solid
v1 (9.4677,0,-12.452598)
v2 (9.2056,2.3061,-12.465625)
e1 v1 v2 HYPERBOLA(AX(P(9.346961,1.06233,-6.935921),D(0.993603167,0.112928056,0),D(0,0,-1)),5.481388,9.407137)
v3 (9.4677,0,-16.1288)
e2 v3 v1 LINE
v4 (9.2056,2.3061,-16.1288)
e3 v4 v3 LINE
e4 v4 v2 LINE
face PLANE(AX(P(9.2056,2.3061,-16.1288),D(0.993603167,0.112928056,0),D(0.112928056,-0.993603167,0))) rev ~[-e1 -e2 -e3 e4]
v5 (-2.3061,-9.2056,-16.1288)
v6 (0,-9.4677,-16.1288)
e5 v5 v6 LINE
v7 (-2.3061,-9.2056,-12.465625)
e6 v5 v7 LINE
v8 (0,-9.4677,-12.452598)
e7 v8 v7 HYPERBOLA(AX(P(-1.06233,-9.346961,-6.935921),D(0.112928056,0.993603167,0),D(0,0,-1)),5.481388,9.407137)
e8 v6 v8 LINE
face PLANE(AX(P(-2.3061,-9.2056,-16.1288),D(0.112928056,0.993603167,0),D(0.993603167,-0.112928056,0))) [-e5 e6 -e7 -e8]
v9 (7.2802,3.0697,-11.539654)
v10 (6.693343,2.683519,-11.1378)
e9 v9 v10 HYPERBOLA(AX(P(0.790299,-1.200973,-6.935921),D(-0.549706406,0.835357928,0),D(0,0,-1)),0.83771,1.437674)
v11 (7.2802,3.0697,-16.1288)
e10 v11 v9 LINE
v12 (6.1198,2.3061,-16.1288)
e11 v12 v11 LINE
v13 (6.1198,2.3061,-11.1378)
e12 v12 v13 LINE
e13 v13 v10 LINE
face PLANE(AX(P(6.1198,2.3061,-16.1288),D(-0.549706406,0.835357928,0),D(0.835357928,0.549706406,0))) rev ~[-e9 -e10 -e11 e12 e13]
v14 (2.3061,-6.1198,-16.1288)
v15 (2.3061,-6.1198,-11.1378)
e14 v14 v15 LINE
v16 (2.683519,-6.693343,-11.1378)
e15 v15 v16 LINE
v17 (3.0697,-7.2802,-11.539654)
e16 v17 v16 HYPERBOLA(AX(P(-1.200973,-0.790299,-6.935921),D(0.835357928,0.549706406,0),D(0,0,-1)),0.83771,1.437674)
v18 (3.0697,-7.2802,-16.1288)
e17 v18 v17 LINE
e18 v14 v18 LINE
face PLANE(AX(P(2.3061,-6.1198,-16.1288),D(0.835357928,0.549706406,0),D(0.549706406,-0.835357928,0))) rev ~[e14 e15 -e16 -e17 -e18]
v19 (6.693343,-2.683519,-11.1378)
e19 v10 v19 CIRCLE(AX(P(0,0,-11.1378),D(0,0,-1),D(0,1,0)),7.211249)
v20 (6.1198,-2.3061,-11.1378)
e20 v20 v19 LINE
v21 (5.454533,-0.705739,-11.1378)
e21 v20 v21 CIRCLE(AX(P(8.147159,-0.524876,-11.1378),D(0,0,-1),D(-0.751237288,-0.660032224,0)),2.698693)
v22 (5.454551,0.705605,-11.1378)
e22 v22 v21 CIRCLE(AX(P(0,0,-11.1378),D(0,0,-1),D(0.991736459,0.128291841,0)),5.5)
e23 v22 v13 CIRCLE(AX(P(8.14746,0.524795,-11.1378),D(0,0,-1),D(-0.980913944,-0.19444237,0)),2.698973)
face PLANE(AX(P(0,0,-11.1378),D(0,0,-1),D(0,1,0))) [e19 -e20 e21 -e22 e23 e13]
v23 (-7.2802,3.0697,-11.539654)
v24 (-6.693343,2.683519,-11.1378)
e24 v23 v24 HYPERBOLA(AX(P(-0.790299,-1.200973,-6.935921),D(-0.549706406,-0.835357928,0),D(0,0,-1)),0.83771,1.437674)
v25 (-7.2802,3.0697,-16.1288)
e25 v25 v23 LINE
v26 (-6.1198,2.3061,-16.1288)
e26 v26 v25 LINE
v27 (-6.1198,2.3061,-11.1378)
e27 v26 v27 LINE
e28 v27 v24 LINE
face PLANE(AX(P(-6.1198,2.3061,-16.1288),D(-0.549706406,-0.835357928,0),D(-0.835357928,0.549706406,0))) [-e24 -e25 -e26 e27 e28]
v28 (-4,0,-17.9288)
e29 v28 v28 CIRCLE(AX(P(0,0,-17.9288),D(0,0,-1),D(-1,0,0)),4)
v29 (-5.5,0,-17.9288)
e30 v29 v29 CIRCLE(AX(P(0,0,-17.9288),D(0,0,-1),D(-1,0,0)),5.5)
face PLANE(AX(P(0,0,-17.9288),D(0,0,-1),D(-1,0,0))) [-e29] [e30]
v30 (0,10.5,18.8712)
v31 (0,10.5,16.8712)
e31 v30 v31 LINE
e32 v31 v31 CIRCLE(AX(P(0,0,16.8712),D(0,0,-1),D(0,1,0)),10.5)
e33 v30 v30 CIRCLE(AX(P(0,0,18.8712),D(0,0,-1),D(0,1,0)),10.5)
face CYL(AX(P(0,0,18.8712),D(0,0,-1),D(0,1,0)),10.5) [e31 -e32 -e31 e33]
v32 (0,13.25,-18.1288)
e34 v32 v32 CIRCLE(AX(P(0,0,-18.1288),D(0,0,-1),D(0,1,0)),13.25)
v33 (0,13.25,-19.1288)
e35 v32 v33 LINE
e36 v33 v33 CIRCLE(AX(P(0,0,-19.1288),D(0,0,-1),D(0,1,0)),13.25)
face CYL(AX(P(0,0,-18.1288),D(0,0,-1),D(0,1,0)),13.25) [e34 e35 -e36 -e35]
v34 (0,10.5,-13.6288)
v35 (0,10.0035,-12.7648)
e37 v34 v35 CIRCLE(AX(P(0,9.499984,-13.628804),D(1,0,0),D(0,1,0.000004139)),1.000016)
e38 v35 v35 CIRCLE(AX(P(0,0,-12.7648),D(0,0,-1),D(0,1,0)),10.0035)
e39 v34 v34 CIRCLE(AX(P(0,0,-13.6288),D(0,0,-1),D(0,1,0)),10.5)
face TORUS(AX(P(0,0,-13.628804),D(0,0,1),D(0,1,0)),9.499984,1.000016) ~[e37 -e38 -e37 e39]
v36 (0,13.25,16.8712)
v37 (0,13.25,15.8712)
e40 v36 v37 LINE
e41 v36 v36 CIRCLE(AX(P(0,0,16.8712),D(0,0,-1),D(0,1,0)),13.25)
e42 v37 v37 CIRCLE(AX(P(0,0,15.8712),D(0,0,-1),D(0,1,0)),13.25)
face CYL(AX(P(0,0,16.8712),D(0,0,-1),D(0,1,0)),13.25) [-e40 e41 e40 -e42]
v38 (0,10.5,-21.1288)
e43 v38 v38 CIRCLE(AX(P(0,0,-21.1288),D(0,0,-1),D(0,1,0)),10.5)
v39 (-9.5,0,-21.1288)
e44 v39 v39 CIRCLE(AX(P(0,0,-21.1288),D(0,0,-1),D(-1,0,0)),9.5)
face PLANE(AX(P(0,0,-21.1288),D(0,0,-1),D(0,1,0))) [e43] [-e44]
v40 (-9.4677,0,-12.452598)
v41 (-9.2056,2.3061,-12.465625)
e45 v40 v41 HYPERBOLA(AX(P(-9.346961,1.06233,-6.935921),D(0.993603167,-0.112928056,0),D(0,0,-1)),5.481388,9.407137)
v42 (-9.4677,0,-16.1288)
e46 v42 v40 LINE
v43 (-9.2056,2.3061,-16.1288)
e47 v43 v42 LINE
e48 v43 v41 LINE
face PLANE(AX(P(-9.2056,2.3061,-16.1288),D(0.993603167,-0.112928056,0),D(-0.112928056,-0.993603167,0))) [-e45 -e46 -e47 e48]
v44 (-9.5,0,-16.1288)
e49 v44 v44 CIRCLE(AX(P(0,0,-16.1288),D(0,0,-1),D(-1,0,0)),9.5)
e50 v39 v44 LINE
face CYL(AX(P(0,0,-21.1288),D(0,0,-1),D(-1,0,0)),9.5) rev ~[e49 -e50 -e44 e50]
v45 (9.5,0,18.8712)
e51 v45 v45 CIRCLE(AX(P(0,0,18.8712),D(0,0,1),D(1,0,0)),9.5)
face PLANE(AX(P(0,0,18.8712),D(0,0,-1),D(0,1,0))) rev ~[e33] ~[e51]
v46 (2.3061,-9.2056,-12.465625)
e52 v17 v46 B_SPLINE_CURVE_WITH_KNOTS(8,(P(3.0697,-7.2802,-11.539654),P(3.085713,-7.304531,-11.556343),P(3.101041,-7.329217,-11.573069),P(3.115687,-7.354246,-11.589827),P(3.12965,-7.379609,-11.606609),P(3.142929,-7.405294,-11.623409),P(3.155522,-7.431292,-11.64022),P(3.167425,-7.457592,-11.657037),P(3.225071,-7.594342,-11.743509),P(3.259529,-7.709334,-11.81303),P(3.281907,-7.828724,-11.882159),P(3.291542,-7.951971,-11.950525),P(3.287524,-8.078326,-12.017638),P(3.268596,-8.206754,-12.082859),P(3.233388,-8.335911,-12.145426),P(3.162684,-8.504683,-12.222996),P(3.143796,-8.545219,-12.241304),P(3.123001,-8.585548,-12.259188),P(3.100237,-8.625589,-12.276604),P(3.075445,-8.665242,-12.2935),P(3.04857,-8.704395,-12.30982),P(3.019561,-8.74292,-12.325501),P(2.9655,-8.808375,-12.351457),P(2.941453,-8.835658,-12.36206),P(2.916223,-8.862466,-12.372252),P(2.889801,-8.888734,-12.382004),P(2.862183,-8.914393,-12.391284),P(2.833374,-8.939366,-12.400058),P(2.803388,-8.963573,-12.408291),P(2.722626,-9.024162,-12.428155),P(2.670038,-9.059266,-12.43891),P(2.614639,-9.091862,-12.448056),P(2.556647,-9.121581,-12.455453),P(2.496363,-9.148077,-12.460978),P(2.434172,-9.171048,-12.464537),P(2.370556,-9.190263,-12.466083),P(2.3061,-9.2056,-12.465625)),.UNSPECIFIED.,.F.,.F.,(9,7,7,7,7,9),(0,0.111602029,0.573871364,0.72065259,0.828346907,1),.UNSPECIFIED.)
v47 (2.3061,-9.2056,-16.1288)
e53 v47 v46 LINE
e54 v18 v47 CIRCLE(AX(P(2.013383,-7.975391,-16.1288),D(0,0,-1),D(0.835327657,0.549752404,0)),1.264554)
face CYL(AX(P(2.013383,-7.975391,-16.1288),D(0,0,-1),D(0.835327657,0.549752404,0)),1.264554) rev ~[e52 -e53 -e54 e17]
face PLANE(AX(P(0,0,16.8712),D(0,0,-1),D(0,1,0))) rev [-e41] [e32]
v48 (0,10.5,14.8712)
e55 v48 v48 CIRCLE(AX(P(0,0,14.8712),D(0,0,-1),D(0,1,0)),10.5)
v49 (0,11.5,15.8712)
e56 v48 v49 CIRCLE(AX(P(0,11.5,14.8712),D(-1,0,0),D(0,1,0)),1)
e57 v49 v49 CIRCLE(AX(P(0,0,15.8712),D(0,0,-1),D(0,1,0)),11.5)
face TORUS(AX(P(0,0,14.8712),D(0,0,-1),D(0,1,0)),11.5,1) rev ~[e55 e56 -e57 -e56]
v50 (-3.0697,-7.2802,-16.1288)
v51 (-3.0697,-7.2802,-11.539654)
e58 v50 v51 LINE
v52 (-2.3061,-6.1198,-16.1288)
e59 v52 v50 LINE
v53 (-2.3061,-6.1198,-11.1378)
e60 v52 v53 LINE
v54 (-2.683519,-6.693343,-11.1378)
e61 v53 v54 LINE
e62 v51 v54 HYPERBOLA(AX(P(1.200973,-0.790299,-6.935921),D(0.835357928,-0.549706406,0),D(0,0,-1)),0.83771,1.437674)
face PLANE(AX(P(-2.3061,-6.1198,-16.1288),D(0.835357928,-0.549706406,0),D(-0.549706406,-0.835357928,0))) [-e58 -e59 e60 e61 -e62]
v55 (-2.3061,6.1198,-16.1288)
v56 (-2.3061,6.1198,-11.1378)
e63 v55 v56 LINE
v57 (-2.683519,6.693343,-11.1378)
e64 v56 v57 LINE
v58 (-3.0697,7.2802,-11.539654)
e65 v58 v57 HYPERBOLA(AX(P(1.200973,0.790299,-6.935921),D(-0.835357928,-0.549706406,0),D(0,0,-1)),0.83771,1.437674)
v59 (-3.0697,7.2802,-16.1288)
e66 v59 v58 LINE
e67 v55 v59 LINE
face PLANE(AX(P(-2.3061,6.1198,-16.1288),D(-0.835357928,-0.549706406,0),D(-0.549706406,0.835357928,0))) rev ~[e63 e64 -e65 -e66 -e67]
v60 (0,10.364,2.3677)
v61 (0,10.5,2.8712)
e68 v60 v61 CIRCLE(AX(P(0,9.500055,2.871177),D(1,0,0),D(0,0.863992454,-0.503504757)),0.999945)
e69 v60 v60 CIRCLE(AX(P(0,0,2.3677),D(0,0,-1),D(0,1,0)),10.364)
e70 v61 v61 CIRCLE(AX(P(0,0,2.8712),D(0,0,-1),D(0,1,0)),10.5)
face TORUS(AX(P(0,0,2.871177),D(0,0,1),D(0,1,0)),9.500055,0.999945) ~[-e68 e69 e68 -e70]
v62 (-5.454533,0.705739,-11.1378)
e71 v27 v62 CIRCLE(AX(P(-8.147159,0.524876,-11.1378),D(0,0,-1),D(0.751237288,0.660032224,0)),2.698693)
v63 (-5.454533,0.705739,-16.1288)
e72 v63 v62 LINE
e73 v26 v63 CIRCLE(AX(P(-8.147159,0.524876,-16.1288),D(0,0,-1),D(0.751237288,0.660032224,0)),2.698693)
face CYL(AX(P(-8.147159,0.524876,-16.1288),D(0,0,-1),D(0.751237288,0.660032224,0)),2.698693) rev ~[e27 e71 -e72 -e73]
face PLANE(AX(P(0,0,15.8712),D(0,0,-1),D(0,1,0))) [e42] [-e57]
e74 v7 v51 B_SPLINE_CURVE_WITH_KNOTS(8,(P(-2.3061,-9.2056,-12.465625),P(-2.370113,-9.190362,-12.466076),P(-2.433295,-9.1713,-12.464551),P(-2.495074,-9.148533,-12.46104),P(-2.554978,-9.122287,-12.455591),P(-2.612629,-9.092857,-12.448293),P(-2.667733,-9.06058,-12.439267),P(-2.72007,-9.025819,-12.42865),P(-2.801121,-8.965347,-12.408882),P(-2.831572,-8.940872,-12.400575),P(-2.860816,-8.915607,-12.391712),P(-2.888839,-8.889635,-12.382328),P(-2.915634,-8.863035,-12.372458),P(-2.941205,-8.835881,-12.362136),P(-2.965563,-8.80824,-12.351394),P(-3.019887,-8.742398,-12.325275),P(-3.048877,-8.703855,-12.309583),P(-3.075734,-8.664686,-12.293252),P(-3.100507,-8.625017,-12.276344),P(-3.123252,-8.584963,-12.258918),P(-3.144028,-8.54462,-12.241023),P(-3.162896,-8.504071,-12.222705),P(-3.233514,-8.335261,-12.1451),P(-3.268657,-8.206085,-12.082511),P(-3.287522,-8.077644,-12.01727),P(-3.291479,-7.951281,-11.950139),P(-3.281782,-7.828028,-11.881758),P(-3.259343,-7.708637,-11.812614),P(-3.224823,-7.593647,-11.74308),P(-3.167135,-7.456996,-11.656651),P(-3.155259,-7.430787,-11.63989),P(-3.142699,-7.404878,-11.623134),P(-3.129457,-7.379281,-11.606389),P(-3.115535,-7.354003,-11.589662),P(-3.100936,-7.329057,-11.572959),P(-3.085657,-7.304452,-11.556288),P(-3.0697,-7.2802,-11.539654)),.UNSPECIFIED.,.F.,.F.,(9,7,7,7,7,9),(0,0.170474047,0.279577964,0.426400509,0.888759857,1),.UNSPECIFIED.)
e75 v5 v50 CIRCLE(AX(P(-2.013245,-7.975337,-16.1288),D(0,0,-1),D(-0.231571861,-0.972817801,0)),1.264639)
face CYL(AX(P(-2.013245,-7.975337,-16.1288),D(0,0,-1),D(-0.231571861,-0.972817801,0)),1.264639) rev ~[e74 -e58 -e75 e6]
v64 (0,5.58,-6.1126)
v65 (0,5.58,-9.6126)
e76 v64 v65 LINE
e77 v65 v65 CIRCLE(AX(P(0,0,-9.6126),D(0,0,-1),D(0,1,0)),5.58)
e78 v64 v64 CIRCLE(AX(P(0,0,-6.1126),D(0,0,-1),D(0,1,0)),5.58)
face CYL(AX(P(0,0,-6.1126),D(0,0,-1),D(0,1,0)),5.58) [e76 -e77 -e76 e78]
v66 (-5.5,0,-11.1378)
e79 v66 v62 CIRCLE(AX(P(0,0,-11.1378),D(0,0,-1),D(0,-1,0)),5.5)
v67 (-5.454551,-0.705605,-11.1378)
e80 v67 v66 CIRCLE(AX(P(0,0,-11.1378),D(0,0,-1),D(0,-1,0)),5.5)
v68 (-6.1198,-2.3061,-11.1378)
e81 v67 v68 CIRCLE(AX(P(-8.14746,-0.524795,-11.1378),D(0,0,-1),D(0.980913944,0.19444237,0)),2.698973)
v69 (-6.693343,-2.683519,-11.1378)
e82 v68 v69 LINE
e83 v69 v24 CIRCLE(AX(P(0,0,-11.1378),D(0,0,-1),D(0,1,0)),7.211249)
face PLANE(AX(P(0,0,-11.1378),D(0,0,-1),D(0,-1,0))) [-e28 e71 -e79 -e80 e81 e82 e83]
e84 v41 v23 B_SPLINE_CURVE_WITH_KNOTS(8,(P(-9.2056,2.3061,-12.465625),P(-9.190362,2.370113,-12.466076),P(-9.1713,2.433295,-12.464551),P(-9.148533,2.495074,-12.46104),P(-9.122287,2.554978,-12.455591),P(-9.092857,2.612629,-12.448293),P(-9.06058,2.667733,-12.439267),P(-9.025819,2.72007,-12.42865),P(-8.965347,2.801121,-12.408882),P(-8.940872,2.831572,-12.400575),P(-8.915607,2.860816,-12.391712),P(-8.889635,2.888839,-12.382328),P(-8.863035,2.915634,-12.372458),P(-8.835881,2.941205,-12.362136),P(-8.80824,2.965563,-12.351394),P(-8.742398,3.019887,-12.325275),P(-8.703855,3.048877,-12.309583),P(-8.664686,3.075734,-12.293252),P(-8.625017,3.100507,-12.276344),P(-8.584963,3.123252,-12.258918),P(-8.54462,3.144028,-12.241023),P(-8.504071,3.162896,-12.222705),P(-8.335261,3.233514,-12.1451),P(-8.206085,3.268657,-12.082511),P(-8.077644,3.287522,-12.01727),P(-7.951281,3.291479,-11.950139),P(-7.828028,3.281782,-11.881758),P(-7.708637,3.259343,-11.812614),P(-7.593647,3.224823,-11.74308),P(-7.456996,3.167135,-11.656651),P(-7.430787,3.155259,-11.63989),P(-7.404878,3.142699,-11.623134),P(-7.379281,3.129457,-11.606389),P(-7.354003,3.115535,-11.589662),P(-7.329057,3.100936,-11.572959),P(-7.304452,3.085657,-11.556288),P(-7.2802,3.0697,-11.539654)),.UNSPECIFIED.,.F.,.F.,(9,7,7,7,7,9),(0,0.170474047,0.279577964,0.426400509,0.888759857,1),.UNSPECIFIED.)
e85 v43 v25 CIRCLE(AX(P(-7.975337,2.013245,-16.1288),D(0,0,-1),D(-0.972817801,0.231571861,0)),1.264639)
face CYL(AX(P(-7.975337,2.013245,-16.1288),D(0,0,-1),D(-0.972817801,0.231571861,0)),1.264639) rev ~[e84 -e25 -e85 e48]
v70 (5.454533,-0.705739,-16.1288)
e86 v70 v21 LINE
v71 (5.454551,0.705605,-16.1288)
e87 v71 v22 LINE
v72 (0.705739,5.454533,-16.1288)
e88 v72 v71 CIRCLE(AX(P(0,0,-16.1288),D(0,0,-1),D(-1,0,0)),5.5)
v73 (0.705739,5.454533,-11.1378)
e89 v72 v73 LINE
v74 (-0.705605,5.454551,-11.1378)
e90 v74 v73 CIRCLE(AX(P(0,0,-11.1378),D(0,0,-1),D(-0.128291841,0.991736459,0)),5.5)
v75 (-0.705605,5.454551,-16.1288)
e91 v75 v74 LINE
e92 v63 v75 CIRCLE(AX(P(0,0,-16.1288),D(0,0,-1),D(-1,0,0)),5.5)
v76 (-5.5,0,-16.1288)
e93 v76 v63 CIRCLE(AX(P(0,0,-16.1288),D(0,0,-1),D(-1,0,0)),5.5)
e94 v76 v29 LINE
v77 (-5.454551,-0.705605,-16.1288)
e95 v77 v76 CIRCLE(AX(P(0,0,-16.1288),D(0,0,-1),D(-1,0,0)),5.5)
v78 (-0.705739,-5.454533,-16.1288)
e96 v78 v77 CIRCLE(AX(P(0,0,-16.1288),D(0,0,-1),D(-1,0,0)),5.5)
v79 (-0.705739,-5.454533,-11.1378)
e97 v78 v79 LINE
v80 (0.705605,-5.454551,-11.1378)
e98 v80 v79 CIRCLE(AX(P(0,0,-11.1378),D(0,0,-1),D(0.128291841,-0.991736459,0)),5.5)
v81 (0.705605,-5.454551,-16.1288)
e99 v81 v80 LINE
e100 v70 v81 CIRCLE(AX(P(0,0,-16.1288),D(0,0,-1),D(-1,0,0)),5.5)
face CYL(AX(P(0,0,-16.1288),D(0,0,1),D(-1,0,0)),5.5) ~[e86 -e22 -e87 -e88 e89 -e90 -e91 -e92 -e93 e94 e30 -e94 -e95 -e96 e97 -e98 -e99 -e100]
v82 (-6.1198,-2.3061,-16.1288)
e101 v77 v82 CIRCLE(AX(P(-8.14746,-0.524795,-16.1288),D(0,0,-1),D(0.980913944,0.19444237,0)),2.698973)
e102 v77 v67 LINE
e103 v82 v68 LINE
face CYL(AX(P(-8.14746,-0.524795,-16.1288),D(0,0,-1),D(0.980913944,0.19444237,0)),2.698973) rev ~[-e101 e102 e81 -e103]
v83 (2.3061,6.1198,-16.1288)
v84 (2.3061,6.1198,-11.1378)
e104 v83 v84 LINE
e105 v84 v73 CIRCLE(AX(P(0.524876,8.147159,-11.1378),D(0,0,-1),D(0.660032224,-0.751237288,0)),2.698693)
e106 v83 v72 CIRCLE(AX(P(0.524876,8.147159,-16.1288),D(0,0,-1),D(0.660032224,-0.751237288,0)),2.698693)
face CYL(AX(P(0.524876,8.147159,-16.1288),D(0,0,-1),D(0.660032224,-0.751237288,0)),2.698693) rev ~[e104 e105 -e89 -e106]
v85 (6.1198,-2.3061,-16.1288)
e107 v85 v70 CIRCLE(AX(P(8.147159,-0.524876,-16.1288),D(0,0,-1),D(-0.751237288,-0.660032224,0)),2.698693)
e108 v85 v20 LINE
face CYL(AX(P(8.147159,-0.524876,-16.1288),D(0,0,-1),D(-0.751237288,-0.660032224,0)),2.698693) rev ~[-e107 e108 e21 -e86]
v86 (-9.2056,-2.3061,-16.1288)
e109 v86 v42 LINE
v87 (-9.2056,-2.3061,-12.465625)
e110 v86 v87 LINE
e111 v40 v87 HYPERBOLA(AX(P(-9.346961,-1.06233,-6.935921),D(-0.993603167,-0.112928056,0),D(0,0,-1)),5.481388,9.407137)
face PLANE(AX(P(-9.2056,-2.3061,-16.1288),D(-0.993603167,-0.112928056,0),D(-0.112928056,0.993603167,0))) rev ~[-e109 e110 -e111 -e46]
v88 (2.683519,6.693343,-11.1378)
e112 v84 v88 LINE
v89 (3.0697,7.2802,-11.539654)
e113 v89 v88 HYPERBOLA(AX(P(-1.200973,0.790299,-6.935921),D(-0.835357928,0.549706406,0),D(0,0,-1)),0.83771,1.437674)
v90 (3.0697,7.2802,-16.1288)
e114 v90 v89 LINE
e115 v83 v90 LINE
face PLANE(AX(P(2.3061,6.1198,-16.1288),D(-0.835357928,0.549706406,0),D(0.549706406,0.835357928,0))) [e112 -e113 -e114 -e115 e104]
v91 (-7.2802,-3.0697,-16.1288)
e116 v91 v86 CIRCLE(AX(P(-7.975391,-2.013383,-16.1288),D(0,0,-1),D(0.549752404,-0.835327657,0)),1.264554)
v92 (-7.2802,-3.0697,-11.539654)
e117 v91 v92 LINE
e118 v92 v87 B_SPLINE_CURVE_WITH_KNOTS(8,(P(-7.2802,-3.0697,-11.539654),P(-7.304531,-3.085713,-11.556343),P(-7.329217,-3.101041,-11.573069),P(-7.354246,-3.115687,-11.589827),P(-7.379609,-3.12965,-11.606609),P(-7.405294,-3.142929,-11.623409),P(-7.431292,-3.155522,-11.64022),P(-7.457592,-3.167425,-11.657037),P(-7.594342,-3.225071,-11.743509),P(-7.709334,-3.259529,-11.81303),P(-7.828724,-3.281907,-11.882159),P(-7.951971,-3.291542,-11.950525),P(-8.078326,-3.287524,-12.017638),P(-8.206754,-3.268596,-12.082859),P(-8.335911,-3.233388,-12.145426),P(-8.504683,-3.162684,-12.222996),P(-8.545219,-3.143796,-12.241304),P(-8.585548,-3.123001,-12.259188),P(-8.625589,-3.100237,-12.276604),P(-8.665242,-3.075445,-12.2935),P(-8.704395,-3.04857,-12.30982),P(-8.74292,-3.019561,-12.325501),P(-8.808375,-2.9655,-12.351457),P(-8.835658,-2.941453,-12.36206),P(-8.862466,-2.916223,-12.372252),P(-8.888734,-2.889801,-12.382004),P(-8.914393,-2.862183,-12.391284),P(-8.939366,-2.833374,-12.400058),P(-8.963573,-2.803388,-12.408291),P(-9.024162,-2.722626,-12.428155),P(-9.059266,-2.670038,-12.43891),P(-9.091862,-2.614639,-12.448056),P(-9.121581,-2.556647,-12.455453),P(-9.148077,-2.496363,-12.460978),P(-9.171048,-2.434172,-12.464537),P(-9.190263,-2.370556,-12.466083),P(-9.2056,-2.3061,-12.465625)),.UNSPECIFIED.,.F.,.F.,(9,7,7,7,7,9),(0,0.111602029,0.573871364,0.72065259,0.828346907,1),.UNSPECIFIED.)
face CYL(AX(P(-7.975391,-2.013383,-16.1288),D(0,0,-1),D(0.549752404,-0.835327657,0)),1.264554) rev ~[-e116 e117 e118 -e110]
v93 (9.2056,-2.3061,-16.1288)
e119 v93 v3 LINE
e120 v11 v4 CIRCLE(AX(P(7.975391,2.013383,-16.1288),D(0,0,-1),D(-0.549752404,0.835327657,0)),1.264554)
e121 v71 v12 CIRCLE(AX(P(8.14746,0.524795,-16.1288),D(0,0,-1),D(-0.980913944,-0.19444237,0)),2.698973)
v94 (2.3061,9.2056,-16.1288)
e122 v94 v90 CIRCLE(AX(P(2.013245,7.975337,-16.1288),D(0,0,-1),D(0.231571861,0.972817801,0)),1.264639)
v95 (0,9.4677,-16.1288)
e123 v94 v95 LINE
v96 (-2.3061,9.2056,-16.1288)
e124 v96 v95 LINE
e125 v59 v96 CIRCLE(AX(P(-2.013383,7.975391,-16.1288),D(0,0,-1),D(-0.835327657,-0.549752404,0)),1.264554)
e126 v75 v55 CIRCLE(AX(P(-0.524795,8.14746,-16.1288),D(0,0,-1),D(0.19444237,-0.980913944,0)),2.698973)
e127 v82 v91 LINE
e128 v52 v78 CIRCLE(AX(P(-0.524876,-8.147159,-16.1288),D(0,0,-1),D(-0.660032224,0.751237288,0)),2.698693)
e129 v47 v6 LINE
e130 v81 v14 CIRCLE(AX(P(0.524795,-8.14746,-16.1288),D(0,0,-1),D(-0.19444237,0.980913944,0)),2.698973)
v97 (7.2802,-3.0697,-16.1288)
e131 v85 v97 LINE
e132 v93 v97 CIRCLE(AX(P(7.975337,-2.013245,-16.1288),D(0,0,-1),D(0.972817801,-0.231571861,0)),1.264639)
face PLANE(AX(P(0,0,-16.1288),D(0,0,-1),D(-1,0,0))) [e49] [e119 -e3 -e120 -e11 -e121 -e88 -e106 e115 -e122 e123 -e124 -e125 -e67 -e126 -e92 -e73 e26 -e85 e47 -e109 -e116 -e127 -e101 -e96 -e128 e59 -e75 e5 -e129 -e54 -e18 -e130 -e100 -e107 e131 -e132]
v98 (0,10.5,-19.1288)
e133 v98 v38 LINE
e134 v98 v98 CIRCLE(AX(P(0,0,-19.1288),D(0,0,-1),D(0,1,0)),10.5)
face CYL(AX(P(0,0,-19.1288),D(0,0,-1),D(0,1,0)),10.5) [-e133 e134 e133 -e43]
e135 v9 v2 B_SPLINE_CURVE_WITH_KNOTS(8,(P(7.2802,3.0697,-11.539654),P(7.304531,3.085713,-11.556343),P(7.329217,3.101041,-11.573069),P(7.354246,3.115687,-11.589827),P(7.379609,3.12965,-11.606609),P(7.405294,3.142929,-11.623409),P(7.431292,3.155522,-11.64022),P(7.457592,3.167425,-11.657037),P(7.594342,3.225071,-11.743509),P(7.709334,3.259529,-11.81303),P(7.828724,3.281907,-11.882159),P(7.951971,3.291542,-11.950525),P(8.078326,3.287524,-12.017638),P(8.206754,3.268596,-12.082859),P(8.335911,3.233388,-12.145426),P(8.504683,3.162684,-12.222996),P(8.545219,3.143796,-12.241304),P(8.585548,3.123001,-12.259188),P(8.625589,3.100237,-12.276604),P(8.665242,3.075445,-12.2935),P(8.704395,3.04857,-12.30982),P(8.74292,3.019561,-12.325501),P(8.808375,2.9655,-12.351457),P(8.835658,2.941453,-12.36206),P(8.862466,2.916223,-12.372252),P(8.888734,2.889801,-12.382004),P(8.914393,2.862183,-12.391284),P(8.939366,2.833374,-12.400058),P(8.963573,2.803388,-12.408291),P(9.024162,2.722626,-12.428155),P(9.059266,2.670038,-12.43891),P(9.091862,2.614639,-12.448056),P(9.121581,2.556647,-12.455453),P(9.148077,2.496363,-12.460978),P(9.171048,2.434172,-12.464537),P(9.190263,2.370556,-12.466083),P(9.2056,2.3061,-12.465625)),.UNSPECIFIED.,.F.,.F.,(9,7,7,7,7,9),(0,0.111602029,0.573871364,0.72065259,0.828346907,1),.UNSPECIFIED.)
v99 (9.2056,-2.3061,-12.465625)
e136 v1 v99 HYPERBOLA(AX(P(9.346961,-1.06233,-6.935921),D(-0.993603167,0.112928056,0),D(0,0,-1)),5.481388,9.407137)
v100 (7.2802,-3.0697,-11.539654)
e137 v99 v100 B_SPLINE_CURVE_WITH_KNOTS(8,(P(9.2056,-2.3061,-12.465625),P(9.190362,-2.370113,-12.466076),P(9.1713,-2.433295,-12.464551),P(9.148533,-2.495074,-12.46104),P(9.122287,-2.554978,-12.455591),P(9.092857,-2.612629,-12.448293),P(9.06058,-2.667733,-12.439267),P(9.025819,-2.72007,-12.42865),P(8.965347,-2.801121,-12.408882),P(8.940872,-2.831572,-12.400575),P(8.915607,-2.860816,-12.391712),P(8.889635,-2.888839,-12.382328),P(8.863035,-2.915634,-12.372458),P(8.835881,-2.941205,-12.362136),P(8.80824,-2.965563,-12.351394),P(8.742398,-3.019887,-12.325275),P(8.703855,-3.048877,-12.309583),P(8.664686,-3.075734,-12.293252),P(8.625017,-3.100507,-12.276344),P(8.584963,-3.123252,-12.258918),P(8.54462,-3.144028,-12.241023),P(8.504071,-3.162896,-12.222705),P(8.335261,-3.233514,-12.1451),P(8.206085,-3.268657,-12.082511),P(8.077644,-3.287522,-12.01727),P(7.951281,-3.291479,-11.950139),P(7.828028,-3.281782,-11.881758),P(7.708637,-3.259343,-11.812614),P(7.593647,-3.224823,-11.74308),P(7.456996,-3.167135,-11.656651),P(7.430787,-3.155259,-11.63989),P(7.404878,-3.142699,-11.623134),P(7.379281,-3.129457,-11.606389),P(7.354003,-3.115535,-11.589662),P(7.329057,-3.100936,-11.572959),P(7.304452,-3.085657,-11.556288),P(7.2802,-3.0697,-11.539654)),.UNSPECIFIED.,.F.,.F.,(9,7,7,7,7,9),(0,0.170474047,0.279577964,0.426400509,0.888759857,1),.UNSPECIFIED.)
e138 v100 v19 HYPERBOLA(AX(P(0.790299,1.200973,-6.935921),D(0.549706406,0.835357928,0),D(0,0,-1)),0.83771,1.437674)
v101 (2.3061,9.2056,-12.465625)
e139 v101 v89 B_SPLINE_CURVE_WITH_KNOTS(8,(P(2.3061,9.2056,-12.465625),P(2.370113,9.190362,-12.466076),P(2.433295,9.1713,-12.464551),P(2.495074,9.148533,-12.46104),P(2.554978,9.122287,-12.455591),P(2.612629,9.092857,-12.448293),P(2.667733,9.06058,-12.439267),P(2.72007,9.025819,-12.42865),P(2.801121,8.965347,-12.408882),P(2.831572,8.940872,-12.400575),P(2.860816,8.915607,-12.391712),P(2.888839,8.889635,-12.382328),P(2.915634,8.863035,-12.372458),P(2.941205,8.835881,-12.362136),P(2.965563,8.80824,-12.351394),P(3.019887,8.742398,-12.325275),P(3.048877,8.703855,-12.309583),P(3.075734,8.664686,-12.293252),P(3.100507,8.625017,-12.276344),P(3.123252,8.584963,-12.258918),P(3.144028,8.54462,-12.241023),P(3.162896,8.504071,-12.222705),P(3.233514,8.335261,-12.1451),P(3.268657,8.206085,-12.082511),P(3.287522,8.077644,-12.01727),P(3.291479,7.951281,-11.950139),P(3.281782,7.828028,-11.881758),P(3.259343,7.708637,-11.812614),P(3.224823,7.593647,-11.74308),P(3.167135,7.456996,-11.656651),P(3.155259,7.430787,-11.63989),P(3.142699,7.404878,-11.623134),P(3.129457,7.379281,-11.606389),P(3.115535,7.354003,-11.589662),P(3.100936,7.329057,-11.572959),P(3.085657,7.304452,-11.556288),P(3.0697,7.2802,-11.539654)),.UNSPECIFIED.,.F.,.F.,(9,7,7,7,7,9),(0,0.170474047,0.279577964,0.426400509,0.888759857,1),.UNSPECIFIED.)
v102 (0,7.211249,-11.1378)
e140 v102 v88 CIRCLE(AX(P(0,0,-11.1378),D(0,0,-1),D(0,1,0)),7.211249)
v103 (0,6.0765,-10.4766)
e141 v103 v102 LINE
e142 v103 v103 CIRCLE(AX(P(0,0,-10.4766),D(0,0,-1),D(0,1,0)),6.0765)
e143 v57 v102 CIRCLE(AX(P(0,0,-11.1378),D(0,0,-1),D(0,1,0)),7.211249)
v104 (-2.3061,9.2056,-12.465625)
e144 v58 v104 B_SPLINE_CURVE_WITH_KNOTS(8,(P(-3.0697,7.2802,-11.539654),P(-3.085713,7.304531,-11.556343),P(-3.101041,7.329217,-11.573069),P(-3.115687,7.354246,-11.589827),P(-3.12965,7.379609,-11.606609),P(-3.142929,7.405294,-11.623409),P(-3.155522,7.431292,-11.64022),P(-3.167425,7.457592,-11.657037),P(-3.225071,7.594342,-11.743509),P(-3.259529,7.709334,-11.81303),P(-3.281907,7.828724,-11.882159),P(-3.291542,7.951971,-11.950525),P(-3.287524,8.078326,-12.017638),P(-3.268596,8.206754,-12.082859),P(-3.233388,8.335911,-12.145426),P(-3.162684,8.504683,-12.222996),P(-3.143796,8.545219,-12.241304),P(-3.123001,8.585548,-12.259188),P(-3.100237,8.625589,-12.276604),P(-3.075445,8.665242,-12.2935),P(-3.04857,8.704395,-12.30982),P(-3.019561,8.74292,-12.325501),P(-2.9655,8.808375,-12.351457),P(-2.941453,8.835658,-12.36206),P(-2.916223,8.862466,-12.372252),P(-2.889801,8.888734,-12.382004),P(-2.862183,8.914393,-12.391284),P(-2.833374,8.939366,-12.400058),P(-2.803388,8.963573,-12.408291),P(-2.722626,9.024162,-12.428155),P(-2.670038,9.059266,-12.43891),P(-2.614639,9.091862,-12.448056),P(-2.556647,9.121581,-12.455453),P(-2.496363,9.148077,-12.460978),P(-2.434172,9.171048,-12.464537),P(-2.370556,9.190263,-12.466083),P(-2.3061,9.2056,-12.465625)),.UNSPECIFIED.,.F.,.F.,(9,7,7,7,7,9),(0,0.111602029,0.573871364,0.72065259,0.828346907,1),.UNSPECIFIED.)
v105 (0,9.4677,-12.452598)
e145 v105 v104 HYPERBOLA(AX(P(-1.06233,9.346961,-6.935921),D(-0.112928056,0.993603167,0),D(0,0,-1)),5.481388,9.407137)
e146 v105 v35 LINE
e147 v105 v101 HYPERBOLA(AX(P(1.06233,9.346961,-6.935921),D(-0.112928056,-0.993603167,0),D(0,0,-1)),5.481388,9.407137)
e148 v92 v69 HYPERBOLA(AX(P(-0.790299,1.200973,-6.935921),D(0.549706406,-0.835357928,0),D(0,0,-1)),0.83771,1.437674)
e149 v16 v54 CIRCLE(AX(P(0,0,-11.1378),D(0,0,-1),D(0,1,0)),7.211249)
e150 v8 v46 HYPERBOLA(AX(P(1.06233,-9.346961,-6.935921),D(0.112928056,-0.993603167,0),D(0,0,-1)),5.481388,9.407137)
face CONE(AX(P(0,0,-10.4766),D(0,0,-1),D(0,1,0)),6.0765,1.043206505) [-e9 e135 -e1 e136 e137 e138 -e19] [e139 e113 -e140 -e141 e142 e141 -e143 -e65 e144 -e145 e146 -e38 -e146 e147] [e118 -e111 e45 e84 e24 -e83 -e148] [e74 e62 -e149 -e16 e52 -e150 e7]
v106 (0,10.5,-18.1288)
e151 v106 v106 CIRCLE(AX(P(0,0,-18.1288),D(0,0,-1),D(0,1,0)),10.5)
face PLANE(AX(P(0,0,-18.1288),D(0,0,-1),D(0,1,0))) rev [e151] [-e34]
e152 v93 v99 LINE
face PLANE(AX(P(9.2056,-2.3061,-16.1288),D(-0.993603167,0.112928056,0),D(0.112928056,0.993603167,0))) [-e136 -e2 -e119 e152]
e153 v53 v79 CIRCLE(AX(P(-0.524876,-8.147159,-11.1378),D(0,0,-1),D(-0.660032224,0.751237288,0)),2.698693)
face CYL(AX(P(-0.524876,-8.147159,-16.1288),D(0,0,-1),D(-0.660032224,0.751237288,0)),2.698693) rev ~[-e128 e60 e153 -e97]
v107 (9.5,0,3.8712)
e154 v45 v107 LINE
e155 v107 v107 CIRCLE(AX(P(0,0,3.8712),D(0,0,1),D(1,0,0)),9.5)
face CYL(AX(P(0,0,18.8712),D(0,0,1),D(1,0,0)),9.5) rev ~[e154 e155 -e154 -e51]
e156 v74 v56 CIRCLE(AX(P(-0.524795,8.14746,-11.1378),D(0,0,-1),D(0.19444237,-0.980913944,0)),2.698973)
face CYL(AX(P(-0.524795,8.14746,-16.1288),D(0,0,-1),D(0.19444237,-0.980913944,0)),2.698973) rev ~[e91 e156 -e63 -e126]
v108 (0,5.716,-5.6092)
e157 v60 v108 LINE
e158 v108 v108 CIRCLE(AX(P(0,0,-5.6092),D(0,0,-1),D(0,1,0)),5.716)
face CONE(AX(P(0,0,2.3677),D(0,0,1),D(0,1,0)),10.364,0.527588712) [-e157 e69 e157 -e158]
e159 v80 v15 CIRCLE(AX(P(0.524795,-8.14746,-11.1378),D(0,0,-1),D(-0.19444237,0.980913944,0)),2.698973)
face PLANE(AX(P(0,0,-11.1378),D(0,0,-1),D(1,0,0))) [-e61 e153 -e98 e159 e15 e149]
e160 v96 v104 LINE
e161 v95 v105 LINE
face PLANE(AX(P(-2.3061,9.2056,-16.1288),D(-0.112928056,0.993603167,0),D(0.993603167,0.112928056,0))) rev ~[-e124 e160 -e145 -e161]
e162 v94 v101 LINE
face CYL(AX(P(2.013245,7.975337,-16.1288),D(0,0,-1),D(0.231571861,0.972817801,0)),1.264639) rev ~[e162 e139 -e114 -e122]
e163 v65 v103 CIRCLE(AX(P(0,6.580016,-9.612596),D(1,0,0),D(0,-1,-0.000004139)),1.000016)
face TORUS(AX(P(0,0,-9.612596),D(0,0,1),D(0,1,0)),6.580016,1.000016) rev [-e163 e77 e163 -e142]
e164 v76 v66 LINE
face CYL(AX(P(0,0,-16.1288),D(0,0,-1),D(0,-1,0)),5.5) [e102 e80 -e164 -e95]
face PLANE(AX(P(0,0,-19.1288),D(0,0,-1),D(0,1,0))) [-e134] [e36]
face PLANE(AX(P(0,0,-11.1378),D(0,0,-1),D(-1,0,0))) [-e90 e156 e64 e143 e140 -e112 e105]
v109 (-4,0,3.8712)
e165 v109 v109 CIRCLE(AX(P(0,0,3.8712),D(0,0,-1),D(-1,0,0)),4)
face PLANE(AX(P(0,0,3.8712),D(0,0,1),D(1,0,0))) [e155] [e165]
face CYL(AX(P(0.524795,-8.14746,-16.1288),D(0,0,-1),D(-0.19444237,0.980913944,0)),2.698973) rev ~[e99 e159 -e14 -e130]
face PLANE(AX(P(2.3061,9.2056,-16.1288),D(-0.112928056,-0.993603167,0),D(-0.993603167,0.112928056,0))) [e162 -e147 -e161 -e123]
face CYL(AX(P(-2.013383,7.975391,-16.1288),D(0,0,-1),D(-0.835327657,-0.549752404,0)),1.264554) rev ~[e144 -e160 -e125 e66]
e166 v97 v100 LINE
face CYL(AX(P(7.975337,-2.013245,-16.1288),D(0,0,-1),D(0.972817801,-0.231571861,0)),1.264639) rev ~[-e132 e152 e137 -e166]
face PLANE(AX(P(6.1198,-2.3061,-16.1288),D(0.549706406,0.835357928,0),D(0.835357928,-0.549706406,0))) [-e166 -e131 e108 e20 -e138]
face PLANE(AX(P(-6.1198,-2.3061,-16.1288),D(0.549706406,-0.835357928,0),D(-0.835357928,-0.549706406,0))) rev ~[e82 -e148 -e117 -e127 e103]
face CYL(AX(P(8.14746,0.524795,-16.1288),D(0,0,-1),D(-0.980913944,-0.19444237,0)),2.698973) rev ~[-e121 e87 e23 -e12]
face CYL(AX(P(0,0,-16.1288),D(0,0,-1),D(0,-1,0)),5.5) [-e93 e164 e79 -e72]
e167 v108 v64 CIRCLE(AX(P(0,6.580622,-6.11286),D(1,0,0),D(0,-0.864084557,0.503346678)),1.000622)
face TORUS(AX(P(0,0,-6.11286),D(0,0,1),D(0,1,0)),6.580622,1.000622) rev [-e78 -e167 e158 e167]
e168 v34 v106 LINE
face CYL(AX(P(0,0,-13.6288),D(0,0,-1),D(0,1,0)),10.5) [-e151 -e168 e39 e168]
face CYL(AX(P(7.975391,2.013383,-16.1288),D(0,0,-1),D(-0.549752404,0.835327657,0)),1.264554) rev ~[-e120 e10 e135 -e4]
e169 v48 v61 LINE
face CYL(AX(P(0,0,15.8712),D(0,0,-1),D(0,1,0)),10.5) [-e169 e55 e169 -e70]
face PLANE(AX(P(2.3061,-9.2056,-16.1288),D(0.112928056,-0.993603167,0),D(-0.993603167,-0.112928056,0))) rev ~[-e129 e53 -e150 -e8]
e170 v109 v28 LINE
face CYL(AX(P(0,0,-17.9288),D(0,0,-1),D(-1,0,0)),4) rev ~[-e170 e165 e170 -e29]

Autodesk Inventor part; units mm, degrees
ref_plane "YZ Plane" through (0, 0, 0) normal (1, 0, 0) x (0, 1, 0)
ref_plane "XZ Plane" through (0, 0, 0) normal (0, 1, 0) x (-1, 0, 0)
ref_plane "XY Plane" through (0, 0, 0) normal (0, 0, 1) x (1, 0, 0)
sketch "Sketch1" plane through (0, 0, 0) normal (1, 0, 0) x (0, 1, 0)
  line L0 (10.5, 18.8712) -> (10.5, 16.8712)
  line L1 (10.5, 16.8712) -> (13.25, 16.8712)
  line L2 (13.25, 16.8712) -> (13.25, 15.8712)
  line L3 (13.25, 15.8712) -> (10.5, 15.8712)
  line L4 (10.5, 15.8712) -> (10.5, 2.8712)
  line L5 (10.364, 2.3677) -> (5.716, -5.6092)
  line L6 (5.58, -6.1126) -> (5.58, -9.6126)
  line L7 (6.0765, -10.4766) -> (10.0035, -12.7648)
  line L8 (10.5, -13.6288) -> (10.5, -18.1288)
  line L9 (10.5, -18.1288) -> (13.25, -18.1288)
  line L10 (13.25, -18.1288) -> (13.25, -19.1288)
  line L11 (13.25, -19.1288) -> (10.5, -19.1288)
  line L12 (10.5, -19.1288) -> (10.5, -21.1288)
  line L13 (10.5, -21.1288) -> (0, -21.1288)
  line L14 (10.5, 18.8712) -> (0, 18.8712)
  line L15 (0, 27.6425) -> (0, -28.3575) projected
  arc A0 (10.364, 2.3677) -> (10.5, 2.8712) centre (9.5, 2.8712) ccw
  arc A1 (5.716, -5.6092) -> (5.58, -6.1126) centre (6.58, -6.1126) ccw
  arc A2 (5.58, -9.6126) -> (6.0765, -10.4766) centre (6.58, -9.6126) ccw
  arc A3 (10.5, -13.6288) -> (10.0035, -12.7648) centre (9.5, -13.6288) ccw
  point P0 (0, 0)
  point P1 (10.5, 2.6011)
  point P2 (5.58, -5.8425)
  dimension "d0" = 10.5
  dimension "d1" = 2
  dimension "d2" = 13.25
  dimension "d4" = 10.5
  dimension "d5" = 5.58
  dimension "d6" = 0
  dimension "d7" = 10.5
  dimension "d8" = 13.25
  dimension "d9" = 1
  dimension "d10" = 1
  dimension "d11" = 1
  dimension "d13" = 13
  dimension "d14" = 1
  dimension "d15" = 3.5
  dimension "d16" = 4.5
  dimension "d17" = 1
  dimension "d18" = 2
  dimension "d40" = 40
revolve "Revolution1" add sketch "Sketch1" angle 360 about axis through (0, 0, 0) along (0, 0, -1)
sketch "Sketch6" plane through (0, 0, -21.1288) normal (0, 0, -1) x (-1, 0, 0)
  circle A0 centre (0, 0) radius 4
  dimension "d19" = 8
extrude "Extrusion1" cut sketch "Sketch6" against normal through all
sketch "Sketch7" plane through (0, 0, 18.8712) normal (0, 0, 1) x (1, 0, 0)
  circle A0 centre (0, 0) radius 9.5
  dimension "d22" = 19
extrude "Extrusion2" cut sketch "Sketch7" against normal blind 15
sketch "Sketch8" plane through (0, 0, -21.1288) normal (0, 0, -1) x (-1, 0, 0)
  circle A0 centre (0, 0) radius 9.5
  dimension "d25" = 19
extrude "Extrusion3" cut sketch "Sketch8" against normal blind 5
sketch "Sketch9" plane through (0, 0, -16.1288) normal (0, 0, -1) x (-1, 0, 0)
  circle A0 centre (0, 0) radius 5.5
  dimension "d28" = 11
extrude "Extrusion4" add sketch "Sketch9" along normal blind 1.8
sketch "Sketch10" plane through (0, 0, -17.9288) normal (0, 0, -1) x (-1, 0, 0)
  circle A0 centre (0, 0) radius 4
  dimension "d31" = 8
extrude "Extrusion5" cut sketch "Sketch10" against normal blind 19.491
sketch "Sketch11" plane through (0, 0, -16.1288) normal (0, 0, -1) x (-1, 0, 0)
  circle A0 centre (0, 0) radius 5.5 projected
  arc A1 (0, 5.5) -> (2.3061, 6.1198) centre (0.5248, 8.1473) ccw
  line L0 (2.3061, 6.1198) -> (3.0697, 7.2802)
  arc A2 (3.0697, 7.2802) -> (2.3061, 9.2056) centre (2.0133, 7.9754) ccw
  line L1 (2.3061, 9.2056) -> (0, 9.4677)
  circle A3 centre (0, 0) radius 10.0035 projected
  arc A4 (-2.3061, 6.1198) -> (0, 5.5) centre (-0.5248, 8.1473) ccw
  line L2 (-2.3061, 6.1198) -> (-3.0697, 7.2802)
  arc A5 (-2.3061, 9.2056) -> (-3.0697, 7.2802) centre (-2.0133, 7.9754) ccw
  line L3 (-2.3061, 9.2056) -> (0, 9.4677)
  point P0 (-0.7056, 5.4545)
  point P1 (0.7056, 5.4545)
  dimension "d34" = 1.2645
extrude "Extrusion6" cut sketch "Sketch11" against normal blind 4.991 contours A0 A4 L2 A5 L3 L1 A2 L0 A1
pattern_circular "Circular Pattern1" count 4 over 360 about axis through (0, 0, -11.6207) along (0, 0, -1) of "Extrusion6"
fillet "Fillet1" radius 1 1 edges at (0, -10.5, 15.8712)
properties part number "Trục dẫn bánh răng"
